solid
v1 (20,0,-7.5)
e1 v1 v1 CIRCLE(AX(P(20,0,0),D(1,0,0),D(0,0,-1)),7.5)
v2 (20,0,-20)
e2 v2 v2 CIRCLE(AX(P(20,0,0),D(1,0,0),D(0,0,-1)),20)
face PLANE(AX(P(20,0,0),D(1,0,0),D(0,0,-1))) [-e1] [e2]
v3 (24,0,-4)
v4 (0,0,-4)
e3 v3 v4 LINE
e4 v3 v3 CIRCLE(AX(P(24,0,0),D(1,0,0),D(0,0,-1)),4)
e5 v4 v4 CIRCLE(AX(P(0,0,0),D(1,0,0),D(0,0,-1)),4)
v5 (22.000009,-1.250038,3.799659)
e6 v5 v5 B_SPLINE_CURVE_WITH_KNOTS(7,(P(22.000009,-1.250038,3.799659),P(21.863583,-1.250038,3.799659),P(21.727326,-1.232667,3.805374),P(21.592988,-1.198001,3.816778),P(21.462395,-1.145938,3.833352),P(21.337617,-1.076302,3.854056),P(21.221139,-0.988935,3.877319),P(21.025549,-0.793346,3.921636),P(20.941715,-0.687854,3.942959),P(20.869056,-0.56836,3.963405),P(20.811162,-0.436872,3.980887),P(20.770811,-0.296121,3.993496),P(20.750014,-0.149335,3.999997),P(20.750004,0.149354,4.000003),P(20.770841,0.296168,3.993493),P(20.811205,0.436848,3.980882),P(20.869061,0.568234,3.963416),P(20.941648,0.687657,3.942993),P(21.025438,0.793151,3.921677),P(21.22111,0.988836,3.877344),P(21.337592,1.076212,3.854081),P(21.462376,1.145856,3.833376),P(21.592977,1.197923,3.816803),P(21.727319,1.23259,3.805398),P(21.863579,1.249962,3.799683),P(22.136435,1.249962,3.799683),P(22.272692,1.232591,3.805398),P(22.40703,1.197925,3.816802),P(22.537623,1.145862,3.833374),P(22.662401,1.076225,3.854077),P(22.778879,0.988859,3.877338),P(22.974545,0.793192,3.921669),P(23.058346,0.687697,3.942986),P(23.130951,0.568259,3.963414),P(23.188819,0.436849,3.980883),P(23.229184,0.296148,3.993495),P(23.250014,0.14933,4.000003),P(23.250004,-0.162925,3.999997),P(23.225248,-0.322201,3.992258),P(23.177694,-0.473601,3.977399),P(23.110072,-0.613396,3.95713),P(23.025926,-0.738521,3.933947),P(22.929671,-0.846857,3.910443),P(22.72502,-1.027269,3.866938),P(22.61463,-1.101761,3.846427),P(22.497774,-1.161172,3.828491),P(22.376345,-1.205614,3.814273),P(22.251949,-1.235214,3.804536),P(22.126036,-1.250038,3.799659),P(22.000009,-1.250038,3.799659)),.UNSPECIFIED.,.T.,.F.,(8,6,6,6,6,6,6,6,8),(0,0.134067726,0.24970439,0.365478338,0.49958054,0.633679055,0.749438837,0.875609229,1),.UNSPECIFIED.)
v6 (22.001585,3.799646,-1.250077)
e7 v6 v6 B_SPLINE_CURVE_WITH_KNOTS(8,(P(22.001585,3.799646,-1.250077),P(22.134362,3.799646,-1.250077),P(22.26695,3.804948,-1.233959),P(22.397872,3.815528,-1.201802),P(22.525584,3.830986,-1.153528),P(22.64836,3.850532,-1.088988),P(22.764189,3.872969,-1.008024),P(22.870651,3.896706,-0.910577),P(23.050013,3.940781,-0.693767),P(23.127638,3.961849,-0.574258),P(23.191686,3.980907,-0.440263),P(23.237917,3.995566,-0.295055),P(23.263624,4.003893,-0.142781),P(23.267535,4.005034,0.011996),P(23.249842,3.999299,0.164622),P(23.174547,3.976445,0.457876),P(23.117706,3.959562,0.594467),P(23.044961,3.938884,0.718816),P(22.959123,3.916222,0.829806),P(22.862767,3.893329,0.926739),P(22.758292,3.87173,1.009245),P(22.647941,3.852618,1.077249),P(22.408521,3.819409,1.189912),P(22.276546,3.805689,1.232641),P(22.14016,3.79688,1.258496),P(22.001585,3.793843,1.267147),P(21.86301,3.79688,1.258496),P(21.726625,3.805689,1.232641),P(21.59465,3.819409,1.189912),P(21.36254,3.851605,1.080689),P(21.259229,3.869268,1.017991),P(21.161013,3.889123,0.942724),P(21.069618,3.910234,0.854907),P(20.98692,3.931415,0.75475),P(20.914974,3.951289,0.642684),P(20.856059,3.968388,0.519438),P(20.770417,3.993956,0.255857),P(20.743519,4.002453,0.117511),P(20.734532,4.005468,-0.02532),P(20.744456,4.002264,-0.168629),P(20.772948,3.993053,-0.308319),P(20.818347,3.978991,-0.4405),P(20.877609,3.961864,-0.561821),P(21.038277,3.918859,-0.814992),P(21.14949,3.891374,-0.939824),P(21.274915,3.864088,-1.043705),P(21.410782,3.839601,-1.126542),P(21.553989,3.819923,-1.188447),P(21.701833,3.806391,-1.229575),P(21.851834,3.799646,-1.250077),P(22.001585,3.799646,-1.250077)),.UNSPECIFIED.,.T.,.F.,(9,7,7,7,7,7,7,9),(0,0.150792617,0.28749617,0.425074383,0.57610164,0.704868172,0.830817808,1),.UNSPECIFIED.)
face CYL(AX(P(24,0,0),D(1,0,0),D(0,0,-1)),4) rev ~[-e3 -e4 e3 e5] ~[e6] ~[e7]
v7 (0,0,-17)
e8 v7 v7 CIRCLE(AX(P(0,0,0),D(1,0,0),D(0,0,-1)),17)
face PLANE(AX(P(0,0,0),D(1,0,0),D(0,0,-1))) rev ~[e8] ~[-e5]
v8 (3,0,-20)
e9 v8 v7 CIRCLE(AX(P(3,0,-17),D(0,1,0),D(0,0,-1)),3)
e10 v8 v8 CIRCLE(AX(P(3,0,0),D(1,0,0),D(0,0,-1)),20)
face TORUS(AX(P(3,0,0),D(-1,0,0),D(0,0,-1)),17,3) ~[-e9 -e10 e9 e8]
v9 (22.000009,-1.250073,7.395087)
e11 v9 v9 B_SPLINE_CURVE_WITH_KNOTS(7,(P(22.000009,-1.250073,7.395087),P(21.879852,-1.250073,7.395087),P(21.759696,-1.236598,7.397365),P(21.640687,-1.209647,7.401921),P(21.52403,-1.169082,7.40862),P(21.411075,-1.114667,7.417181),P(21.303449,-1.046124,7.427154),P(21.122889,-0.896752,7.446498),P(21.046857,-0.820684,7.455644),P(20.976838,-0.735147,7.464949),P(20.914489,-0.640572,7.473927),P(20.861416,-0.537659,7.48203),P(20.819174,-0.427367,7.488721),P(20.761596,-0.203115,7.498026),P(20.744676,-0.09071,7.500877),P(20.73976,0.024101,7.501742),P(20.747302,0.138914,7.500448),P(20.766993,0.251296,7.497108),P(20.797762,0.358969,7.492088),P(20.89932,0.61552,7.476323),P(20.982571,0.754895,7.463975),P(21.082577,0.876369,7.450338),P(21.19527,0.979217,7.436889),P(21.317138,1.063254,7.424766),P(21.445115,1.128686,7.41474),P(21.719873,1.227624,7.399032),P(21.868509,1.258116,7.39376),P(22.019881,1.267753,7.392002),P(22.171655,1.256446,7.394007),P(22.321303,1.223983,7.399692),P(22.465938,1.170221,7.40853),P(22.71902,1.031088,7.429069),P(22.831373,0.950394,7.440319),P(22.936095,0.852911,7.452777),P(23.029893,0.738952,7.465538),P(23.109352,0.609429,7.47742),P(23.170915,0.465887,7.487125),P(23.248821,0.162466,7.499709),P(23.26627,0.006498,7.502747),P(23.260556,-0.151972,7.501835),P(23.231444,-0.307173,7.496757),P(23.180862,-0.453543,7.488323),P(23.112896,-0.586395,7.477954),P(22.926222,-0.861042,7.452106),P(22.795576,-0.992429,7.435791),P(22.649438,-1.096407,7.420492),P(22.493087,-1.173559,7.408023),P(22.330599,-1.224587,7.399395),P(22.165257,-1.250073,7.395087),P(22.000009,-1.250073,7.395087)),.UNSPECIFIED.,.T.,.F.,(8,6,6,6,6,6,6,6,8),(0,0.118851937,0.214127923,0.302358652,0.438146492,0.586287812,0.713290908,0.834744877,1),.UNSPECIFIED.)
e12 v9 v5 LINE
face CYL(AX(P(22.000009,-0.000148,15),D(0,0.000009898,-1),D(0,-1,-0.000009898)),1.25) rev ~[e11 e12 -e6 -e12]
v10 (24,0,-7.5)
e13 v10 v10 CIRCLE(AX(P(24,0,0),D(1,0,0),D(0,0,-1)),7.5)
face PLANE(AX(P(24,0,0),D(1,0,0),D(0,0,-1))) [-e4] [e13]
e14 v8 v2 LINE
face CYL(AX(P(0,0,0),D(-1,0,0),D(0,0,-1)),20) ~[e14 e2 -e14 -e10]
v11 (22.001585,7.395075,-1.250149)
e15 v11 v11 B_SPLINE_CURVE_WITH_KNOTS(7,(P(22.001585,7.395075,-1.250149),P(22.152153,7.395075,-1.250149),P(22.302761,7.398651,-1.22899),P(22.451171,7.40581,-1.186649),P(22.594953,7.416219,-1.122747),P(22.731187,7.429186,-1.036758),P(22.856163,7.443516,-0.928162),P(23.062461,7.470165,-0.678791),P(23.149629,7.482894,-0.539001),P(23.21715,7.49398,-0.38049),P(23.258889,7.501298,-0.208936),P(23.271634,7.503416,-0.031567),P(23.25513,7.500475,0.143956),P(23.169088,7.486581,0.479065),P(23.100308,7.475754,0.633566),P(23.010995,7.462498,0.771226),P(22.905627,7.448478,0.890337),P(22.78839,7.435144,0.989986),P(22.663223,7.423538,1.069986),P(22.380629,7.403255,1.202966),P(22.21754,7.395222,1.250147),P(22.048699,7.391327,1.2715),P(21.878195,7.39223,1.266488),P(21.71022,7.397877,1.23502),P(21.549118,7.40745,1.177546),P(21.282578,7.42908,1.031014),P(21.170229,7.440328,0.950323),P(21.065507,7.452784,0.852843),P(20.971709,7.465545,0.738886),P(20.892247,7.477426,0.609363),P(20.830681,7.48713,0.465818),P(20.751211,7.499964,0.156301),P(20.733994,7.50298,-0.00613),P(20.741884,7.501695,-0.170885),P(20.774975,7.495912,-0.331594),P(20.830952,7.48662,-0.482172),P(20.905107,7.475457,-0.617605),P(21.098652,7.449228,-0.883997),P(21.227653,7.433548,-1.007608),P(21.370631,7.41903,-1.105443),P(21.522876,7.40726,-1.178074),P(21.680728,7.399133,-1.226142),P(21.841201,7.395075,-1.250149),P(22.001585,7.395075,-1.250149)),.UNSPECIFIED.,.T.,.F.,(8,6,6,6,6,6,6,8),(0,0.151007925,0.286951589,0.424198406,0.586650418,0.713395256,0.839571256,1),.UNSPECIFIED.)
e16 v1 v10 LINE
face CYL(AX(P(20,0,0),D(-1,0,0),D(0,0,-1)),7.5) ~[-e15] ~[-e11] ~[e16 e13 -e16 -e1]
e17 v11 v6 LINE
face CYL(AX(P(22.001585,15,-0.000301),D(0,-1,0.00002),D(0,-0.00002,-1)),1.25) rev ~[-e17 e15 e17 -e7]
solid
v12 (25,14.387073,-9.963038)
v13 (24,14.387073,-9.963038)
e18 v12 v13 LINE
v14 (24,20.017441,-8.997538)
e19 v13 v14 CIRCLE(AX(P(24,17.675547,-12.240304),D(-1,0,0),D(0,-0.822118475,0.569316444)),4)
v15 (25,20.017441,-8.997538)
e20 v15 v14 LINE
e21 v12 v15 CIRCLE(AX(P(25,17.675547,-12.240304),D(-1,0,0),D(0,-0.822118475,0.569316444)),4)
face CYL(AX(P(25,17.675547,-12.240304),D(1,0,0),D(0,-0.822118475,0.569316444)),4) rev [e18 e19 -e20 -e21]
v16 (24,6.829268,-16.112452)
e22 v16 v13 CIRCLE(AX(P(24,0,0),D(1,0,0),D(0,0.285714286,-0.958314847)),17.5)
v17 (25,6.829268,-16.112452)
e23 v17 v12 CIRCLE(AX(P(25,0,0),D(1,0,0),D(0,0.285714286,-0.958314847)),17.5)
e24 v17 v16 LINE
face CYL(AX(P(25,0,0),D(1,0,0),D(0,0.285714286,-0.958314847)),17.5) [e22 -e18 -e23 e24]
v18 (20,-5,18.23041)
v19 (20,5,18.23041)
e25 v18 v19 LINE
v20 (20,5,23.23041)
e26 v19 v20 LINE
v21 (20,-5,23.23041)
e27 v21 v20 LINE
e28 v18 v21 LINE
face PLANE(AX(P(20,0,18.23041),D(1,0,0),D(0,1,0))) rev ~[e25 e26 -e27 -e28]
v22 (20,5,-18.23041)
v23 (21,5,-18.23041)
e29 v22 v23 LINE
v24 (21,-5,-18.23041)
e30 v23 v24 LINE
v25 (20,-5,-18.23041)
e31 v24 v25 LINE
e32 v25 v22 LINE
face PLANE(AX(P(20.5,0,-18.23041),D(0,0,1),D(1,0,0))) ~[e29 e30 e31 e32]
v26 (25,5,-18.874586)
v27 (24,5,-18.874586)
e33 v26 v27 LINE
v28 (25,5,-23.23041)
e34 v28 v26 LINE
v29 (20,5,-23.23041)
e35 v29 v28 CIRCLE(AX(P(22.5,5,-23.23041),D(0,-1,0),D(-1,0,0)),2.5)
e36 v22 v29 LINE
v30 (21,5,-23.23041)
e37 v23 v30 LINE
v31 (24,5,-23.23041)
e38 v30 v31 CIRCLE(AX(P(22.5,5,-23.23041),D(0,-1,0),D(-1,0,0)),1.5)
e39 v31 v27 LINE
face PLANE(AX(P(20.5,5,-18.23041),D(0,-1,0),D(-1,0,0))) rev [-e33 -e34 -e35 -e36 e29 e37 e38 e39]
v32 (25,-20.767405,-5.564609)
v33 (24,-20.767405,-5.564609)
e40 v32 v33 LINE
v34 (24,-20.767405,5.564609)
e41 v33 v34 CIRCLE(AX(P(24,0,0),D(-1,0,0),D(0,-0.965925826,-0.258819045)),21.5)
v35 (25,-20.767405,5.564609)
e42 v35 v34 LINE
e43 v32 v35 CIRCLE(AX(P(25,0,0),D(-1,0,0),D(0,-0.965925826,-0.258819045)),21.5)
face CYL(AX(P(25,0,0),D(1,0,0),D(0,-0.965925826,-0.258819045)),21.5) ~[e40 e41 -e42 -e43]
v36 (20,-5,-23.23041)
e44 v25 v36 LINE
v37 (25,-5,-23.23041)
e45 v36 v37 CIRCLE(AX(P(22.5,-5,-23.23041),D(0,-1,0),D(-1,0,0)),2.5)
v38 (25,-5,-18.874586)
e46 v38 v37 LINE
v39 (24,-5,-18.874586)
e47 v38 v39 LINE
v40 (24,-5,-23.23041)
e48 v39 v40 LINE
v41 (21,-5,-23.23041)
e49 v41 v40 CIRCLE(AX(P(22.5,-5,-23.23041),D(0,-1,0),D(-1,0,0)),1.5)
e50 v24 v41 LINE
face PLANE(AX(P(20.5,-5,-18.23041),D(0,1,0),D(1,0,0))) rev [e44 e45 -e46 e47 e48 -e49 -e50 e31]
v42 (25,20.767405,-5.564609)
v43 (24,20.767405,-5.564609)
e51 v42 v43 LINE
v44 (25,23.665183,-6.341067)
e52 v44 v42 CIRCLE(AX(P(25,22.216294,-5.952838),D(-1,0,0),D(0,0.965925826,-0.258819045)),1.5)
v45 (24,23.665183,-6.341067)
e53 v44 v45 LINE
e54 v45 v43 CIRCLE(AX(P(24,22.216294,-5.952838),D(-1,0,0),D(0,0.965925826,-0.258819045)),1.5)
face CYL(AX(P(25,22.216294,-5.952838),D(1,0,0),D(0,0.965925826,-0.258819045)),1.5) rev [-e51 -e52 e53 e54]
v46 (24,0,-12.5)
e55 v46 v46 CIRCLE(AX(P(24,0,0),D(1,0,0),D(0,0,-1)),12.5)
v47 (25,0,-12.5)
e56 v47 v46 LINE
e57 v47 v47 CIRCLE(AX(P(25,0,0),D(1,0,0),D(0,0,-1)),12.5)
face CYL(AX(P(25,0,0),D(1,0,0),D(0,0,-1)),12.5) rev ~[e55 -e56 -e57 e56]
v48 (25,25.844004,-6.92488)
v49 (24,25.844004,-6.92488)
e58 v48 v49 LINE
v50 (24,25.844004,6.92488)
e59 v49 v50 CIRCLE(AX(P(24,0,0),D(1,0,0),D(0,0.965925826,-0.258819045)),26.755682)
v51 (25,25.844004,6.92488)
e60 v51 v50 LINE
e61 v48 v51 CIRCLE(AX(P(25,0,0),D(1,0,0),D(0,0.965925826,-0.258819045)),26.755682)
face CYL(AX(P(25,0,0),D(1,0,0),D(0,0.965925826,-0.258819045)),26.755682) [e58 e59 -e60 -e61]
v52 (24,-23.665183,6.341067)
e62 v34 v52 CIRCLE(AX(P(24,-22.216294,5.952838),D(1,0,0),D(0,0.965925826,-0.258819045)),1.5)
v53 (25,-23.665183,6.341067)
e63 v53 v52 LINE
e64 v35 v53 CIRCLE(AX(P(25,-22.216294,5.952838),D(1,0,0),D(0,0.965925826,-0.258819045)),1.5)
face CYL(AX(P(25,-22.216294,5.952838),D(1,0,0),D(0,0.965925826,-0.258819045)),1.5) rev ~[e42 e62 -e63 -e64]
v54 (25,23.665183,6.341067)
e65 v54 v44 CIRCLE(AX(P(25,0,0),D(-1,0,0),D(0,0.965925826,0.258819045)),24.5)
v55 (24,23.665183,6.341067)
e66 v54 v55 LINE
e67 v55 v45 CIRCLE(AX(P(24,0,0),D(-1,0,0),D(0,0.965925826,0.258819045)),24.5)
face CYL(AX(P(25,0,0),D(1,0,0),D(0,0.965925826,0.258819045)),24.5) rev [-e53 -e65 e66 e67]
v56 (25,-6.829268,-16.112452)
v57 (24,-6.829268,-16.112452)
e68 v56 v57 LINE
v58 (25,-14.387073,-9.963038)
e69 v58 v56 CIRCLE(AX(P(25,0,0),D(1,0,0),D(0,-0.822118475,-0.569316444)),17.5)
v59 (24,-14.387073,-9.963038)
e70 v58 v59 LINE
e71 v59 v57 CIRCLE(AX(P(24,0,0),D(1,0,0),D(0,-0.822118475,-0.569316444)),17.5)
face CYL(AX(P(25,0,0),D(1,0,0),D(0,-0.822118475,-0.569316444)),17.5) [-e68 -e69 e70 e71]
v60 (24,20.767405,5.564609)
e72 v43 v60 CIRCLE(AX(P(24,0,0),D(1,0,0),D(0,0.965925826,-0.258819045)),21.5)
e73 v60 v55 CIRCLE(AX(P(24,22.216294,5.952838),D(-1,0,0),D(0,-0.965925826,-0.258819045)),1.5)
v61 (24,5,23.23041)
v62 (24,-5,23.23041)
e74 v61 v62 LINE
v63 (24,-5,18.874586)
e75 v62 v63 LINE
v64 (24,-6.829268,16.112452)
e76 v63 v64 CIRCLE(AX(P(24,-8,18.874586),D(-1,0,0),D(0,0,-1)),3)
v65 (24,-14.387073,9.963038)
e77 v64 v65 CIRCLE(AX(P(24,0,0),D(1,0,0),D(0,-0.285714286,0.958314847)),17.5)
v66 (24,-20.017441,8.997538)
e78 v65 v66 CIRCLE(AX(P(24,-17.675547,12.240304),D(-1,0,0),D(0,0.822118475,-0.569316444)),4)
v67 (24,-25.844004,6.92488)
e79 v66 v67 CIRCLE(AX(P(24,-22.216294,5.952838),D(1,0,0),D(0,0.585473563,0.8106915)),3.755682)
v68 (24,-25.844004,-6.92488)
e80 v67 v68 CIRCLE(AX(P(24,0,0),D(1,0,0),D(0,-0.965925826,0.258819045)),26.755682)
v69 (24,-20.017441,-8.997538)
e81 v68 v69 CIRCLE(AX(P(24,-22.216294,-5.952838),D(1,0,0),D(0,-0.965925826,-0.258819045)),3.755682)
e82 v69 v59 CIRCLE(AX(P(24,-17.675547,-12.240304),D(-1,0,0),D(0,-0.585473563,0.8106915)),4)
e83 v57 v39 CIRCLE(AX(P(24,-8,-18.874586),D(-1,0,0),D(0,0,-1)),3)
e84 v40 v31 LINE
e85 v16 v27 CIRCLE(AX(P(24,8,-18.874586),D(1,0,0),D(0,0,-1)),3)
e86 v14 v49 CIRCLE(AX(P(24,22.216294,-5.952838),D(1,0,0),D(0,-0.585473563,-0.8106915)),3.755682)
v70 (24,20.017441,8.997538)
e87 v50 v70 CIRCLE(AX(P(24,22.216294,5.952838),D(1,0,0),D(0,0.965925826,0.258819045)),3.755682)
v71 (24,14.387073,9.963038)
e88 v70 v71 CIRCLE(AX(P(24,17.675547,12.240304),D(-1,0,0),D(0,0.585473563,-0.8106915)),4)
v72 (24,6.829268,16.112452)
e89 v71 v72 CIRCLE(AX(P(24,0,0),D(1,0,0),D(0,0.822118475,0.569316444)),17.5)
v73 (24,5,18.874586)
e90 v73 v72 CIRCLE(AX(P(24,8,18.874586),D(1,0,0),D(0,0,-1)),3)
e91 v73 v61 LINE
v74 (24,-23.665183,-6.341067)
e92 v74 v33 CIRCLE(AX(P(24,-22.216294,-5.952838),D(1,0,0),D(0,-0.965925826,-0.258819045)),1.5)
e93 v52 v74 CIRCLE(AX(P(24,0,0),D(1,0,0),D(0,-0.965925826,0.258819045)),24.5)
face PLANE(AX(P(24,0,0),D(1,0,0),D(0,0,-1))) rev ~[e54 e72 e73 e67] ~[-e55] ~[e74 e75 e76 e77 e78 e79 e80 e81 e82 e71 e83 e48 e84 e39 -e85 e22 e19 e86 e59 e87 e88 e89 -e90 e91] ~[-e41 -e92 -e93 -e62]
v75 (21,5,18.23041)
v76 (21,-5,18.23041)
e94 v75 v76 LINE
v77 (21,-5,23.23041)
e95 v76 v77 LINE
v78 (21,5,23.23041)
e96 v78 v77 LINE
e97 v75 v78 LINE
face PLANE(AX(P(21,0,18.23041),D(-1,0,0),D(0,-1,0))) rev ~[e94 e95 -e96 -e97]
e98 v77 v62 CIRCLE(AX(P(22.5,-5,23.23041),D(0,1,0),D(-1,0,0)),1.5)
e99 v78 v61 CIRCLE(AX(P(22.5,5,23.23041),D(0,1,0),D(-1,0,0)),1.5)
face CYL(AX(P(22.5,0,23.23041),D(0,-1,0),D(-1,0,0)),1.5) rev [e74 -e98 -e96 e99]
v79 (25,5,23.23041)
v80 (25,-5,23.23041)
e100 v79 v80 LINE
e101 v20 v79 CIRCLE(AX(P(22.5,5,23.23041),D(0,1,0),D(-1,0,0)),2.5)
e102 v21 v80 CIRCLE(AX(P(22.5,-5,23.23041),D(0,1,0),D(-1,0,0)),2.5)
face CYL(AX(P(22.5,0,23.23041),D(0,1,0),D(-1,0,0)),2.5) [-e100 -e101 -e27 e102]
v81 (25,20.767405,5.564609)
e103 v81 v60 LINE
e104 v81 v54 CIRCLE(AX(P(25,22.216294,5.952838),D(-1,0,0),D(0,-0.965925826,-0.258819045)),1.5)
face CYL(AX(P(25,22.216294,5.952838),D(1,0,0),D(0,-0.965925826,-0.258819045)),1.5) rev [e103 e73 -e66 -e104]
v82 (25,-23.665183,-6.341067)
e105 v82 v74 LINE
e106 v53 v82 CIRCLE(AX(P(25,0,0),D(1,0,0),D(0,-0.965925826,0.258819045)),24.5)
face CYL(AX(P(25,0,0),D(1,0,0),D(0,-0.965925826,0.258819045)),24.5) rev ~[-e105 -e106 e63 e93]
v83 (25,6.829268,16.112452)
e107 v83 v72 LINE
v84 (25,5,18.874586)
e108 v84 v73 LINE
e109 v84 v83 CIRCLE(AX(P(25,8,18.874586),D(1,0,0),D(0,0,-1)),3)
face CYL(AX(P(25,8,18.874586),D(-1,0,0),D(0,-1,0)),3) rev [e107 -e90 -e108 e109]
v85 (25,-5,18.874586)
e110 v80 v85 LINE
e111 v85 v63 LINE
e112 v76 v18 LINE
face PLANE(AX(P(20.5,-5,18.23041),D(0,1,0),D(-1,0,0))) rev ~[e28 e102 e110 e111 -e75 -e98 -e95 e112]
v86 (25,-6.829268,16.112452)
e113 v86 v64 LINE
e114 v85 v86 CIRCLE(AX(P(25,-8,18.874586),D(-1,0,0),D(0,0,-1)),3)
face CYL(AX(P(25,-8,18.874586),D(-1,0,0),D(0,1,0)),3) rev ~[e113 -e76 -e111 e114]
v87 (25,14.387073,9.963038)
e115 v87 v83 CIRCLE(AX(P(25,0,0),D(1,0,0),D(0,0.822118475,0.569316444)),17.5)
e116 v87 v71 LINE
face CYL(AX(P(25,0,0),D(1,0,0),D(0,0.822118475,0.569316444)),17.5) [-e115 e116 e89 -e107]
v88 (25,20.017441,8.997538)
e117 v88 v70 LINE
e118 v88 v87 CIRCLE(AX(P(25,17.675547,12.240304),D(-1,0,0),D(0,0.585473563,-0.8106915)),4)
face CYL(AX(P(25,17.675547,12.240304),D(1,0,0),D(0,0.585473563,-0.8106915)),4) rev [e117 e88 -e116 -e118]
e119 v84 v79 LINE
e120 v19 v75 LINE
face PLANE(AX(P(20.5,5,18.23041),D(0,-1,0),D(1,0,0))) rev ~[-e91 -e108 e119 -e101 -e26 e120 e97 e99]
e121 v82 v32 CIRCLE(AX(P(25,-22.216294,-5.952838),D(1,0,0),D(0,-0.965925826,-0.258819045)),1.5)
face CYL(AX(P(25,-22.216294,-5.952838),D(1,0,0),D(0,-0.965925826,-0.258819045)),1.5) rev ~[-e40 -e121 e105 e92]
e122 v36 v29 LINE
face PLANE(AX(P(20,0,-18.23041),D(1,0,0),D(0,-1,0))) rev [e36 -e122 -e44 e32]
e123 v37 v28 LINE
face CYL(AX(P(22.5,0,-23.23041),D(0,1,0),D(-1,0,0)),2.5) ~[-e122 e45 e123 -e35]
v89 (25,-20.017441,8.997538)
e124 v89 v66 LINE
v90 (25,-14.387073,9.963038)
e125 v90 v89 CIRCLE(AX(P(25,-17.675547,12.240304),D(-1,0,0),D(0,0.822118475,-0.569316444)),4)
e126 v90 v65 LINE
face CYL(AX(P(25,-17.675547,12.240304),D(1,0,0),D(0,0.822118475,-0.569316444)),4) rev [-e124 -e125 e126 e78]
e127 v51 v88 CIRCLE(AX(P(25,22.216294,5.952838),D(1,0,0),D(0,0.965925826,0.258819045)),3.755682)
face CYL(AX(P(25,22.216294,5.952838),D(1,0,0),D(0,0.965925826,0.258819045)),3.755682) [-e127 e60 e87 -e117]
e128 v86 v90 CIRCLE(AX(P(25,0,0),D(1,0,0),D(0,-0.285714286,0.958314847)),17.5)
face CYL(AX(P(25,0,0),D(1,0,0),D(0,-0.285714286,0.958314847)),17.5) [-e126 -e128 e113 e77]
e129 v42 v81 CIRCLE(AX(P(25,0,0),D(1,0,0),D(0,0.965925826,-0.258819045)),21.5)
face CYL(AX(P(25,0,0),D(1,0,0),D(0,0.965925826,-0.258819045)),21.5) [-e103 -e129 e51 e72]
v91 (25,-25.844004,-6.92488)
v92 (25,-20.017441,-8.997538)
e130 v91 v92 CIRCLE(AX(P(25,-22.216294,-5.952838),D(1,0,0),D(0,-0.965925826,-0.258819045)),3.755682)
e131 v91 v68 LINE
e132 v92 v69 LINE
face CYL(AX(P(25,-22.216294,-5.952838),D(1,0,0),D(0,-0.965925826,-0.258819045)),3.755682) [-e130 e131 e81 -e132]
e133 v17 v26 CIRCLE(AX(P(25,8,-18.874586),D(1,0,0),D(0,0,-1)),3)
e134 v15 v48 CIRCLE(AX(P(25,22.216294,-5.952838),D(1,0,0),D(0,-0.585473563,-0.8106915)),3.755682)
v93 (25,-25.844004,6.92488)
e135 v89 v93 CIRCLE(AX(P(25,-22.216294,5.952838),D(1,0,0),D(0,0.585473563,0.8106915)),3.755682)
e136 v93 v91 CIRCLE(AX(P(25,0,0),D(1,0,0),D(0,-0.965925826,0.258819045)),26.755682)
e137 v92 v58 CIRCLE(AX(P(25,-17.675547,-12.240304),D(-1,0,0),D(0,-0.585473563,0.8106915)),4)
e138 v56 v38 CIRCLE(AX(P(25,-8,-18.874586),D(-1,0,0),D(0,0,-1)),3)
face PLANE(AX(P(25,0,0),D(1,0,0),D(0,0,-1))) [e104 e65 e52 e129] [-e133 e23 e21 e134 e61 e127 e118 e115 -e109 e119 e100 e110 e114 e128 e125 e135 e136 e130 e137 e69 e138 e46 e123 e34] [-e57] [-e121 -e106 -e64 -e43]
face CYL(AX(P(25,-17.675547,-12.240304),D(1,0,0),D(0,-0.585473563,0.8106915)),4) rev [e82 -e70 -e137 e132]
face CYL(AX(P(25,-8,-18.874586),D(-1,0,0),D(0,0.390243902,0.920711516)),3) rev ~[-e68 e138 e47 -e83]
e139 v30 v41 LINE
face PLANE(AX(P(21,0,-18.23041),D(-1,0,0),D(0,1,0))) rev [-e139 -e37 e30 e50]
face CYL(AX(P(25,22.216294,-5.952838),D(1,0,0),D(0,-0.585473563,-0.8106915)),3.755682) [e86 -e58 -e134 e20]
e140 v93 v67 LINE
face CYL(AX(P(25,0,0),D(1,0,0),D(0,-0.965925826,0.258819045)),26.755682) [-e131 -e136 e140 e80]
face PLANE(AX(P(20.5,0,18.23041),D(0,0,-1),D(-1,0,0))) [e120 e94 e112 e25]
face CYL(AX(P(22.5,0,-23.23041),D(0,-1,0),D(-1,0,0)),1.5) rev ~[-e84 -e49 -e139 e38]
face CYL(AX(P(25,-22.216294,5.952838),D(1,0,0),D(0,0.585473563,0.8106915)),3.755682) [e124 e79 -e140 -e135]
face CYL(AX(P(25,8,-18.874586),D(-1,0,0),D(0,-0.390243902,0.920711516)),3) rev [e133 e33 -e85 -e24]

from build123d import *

# Parameters (mm, degrees)
SKETCH1_R                           = 20
BOSS_EXTRUDE1_DEPTH                 = 20
FILLET1_R                           = 3
SKETCH2_R                           = 7.5
BOSS_EXTRUDE2_DEPTH                 = 4
M3X0_5_TAPPED_HOLE1_D               = 2.5
M3X0_5_TAPPED_HOLE1_DEPTH           = 7.5
M3X0_5_TAPPED_HOLE1_TIP             = 0.751075774
M3X0_5_TAPPED_HOLE1_ON_FACE_2_D     = 2.5
M3X0_5_TAPPED_HOLE1_ON_FACE_2_DEPTH = 7.5
M3X0_5_TAPPED_HOLE1_ON_FACE_2_TIP   = 0.751075774
SKETCH5_R                           = 4
CUT_EXTRUDE1_DEPTH                  = 38.09447409
SKETCH6_R                           = 12.5
BOSS_EXTRUDE3_DEPTH                 = 1
FILLET2_R                           = 3
SKETCH35_W                          = 1
SKETCH35_H                          = 10


with BuildPart() as part:
    # Sketch1 → Boss-Extrude1 (new body)
    with BuildSketch(Plane(origin=(0, 0, 0), x_dir=(0, 0, -1), z_dir=(1, 0, 0))):
        Circle(SKETCH1_R)
    extrude(amount=BOSS_EXTRUDE1_DEPTH)

    # Fillet1
    fillet1_edges = [part.edges().sort_by_distance(p)[0] for p in [
        (0, 0, 20),
    ]]
    fillet(fillet1_edges, radius=FILLET1_R)

    # Sketch2 → Boss-Extrude2 (add)
    with BuildSketch(Plane(origin=(20, 0, 0), x_dir=(0, 0, -1), z_dir=(1, 0, 0))):
        Circle(SKETCH2_R)
    extrude(amount=BOSS_EXTRUDE2_DEPTH)

    # M3x0.5 Tapped Hole1
    with Locations(Plane(origin=(22.000008994, -7.4235e-05, 7.5), x_dir=(0, 0.999999999951, 9.89804e-06), z_dir=(0, -9.89804e-06, 0.999999999951))):
        with Locations((0, 0)):
            Hole(M3X0_5_TAPPED_HOLE1_D / 2, depth=M3X0_5_TAPPED_HOLE1_DEPTH)
            with Locations((0, 0, -(M3X0_5_TAPPED_HOLE1_DEPTH + M3X0_5_TAPPED_HOLE1_TIP / 2))):  # 118° drill point
                Cone(0, M3X0_5_TAPPED_HOLE1_D / 2, M3X0_5_TAPPED_HOLE1_TIP, mode=Mode.SUBTRACT)

    # M3x0.5 Tapped Hole1 on face 2
    with Locations(Plane(origin=(22.001585242, 7.499999998, -0.000151303), x_dir=(0, 2e-05, 0.9999999998), z_dir=(0, 0.9999999998, -2e-05))):
        with Locations((0, 0)):
            Hole(M3X0_5_TAPPED_HOLE1_ON_FACE_2_D / 2, depth=M3X0_5_TAPPED_HOLE1_ON_FACE_2_DEPTH)
            with Locations((0, 0, -(M3X0_5_TAPPED_HOLE1_ON_FACE_2_DEPTH + M3X0_5_TAPPED_HOLE1_ON_FACE_2_TIP / 2))):  # 118° drill point
                Cone(0, M3X0_5_TAPPED_HOLE1_ON_FACE_2_D / 2, M3X0_5_TAPPED_HOLE1_ON_FACE_2_TIP, mode=Mode.SUBTRACT)

    # Sketch5 → Cut-Extrude1 (cut, through all)
    with BuildSketch(Plane(origin=(24, 0, 0), x_dir=(0, 0, -1), z_dir=(1, 0, 0))):
        Circle(SKETCH5_R)
    extrude(amount=-CUT_EXTRUDE1_DEPTH, mode=Mode.SUBTRACT)


with BuildPart() as body_2:
    # Sketch6 → Boss-Extrude3 (new body)
    with BuildSketch(Plane(origin=(25, 0, 0), x_dir=(0, 0, -1), z_dir=(1, 0, 0))):
        with BuildLine():
            Line((-23.230409619, -5), (-16.770509831, -5))
            ThreePointArc((-16.770509831, -5), (-14.166860207, -10.273756463), (-9.963037767, -14.387073311))
            ThreePointArc((-9.963037767, -14.387073311), (-8.297848841, -16.999491792), (-8.997537544, -20.01744146))
            ThreePointArc((-8.997537544, -20.01744146), (-9.49130688, -23.475017902), (-6.924880077, -25.844004284))
            ThreePointArc((-6.924880077, -25.844004284), (0, -26.755682042), (6.924880077, -25.844004284))
            ThreePointArc((6.924880077, -25.844004284), (9.49130688, -23.475017902), (8.997537544, -20.01744146))
            ThreePointArc((8.997537544, -20.01744146), (8.297848841, -16.999491792), (9.963037767, -14.387073311))
            ThreePointArc((9.963037767, -14.387073311), (14.166860207, -10.273756463), (16.770509831, -5))
            Line((16.770509831, -5), (23.230409619, -5))
            Line((23.230409619, -5), (23.230409619, 5))
            Line((23.230409619, 5), (16.770509831, 5))
            ThreePointArc((16.770509831, 5), (14.166860207, 10.273756463), (9.963037767, 14.387073311))
            ThreePointArc((9.963037767, 14.387073311), (8.297848841, 16.999491792), (8.997537544, 20.01744146))
            ThreePointArc((8.997537544, 20.01744146), (9.49130688, 23.475017902), (6.924880077, 25.844004284))
            ThreePointArc((6.924880077, 25.844004284), (0, 26.755682042), (-6.924880077, 25.844004284))
            ThreePointArc((-6.924880077, 25.844004284), (-9.49130688, 23.475017902), (-8.997537544, 20.01744146))
            ThreePointArc((-8.997537544, 20.01744146), (-8.297848841, 16.999491792), (-9.963037767, 14.387073311))
            ThreePointArc((-9.963037767, 14.387073311), (-14.166860207, 10.273756463), (-16.770509831, 5))
            Line((-16.770509831, 5), (-23.230409619, 5))
            Line((-23.230409619, 5), (-23.230409619, -5))
        make_face()
        Circle(SKETCH6_R, mode=Mode.SUBTRACT)
        with BuildLine():
            ThreePointArc((5.56460947, 20.767405265), (0, 21.5), (-5.56460947, 20.767405265))
            ThreePointArc((-5.56460947, 20.767405265), (-7.401726777, 21.828065437), (-6.341066605, 23.665182744))
            ThreePointArc((-6.341066605, 23.665182744), (0, 24.5), (6.341066605, 23.665182744))
            ThreePointArc((6.341066605, 23.665182744), (7.401726777, 21.828065437), (5.56460947, 20.767405265))
        make_face(mode=Mode.SUBTRACT)
        with BuildLine():
            ThreePointArc((5.56460947, -20.767405265), (0, -21.5), (-5.56460947, -20.767405265))
            ThreePointArc((-5.56460947, -20.767405265), (-7.401726777, -21.828065437), (-6.341066605, -23.665182744))
            ThreePointArc((-6.341066605, -23.665182744), (0, -24.5), (6.341066605, -23.665182744))
            ThreePointArc((6.341066605, -23.665182744), (7.401726777, -21.828065437), (5.56460947, -20.767405265))
        make_face(mode=Mode.SUBTRACT)
    extrude(amount=-BOSS_EXTRUDE3_DEPTH)

    # Fillet2
    fillet2_edges = [body_2.edges().sort_by_distance(p)[0] for p in [
        (24.5, 5, 16.770509831),
        (24.5, 5, -16.770509831),
        (24.5, -5, -16.770509831),
        (24.5, -5, 16.770509831),
    ]]
    fillet(fillet2_edges, radius=FILLET2_R)

    # Sweep2: sweep along a path in Sketch20
    with BuildLine(Plane(origin=(0, 0, 0), x_dir=(1, 0, 0), z_dir=(0, 1, 0))) as sweep2_path:
        Line((20.5, -18.230409619), (20.5, -23.230409619))
        ThreePointArc((20.5, -23.230409619), (22.5, -25.230409619), (24.5, -23.230409619))
    # Sketch35 → Sweep2 (sweep)
    with BuildSketch(Plane.XY.offset(23.230409619)):
        with Locations((24.5, 0)):
            Rectangle(SKETCH35_W, SKETCH35_H)
    sweep2 = sweep(path=sweep2_path.line)

    # Mirror1: Sweep2 across plane
    add(sweep2.mirror(Plane.XY))


solid = Compound([part.part, body_2.part])
